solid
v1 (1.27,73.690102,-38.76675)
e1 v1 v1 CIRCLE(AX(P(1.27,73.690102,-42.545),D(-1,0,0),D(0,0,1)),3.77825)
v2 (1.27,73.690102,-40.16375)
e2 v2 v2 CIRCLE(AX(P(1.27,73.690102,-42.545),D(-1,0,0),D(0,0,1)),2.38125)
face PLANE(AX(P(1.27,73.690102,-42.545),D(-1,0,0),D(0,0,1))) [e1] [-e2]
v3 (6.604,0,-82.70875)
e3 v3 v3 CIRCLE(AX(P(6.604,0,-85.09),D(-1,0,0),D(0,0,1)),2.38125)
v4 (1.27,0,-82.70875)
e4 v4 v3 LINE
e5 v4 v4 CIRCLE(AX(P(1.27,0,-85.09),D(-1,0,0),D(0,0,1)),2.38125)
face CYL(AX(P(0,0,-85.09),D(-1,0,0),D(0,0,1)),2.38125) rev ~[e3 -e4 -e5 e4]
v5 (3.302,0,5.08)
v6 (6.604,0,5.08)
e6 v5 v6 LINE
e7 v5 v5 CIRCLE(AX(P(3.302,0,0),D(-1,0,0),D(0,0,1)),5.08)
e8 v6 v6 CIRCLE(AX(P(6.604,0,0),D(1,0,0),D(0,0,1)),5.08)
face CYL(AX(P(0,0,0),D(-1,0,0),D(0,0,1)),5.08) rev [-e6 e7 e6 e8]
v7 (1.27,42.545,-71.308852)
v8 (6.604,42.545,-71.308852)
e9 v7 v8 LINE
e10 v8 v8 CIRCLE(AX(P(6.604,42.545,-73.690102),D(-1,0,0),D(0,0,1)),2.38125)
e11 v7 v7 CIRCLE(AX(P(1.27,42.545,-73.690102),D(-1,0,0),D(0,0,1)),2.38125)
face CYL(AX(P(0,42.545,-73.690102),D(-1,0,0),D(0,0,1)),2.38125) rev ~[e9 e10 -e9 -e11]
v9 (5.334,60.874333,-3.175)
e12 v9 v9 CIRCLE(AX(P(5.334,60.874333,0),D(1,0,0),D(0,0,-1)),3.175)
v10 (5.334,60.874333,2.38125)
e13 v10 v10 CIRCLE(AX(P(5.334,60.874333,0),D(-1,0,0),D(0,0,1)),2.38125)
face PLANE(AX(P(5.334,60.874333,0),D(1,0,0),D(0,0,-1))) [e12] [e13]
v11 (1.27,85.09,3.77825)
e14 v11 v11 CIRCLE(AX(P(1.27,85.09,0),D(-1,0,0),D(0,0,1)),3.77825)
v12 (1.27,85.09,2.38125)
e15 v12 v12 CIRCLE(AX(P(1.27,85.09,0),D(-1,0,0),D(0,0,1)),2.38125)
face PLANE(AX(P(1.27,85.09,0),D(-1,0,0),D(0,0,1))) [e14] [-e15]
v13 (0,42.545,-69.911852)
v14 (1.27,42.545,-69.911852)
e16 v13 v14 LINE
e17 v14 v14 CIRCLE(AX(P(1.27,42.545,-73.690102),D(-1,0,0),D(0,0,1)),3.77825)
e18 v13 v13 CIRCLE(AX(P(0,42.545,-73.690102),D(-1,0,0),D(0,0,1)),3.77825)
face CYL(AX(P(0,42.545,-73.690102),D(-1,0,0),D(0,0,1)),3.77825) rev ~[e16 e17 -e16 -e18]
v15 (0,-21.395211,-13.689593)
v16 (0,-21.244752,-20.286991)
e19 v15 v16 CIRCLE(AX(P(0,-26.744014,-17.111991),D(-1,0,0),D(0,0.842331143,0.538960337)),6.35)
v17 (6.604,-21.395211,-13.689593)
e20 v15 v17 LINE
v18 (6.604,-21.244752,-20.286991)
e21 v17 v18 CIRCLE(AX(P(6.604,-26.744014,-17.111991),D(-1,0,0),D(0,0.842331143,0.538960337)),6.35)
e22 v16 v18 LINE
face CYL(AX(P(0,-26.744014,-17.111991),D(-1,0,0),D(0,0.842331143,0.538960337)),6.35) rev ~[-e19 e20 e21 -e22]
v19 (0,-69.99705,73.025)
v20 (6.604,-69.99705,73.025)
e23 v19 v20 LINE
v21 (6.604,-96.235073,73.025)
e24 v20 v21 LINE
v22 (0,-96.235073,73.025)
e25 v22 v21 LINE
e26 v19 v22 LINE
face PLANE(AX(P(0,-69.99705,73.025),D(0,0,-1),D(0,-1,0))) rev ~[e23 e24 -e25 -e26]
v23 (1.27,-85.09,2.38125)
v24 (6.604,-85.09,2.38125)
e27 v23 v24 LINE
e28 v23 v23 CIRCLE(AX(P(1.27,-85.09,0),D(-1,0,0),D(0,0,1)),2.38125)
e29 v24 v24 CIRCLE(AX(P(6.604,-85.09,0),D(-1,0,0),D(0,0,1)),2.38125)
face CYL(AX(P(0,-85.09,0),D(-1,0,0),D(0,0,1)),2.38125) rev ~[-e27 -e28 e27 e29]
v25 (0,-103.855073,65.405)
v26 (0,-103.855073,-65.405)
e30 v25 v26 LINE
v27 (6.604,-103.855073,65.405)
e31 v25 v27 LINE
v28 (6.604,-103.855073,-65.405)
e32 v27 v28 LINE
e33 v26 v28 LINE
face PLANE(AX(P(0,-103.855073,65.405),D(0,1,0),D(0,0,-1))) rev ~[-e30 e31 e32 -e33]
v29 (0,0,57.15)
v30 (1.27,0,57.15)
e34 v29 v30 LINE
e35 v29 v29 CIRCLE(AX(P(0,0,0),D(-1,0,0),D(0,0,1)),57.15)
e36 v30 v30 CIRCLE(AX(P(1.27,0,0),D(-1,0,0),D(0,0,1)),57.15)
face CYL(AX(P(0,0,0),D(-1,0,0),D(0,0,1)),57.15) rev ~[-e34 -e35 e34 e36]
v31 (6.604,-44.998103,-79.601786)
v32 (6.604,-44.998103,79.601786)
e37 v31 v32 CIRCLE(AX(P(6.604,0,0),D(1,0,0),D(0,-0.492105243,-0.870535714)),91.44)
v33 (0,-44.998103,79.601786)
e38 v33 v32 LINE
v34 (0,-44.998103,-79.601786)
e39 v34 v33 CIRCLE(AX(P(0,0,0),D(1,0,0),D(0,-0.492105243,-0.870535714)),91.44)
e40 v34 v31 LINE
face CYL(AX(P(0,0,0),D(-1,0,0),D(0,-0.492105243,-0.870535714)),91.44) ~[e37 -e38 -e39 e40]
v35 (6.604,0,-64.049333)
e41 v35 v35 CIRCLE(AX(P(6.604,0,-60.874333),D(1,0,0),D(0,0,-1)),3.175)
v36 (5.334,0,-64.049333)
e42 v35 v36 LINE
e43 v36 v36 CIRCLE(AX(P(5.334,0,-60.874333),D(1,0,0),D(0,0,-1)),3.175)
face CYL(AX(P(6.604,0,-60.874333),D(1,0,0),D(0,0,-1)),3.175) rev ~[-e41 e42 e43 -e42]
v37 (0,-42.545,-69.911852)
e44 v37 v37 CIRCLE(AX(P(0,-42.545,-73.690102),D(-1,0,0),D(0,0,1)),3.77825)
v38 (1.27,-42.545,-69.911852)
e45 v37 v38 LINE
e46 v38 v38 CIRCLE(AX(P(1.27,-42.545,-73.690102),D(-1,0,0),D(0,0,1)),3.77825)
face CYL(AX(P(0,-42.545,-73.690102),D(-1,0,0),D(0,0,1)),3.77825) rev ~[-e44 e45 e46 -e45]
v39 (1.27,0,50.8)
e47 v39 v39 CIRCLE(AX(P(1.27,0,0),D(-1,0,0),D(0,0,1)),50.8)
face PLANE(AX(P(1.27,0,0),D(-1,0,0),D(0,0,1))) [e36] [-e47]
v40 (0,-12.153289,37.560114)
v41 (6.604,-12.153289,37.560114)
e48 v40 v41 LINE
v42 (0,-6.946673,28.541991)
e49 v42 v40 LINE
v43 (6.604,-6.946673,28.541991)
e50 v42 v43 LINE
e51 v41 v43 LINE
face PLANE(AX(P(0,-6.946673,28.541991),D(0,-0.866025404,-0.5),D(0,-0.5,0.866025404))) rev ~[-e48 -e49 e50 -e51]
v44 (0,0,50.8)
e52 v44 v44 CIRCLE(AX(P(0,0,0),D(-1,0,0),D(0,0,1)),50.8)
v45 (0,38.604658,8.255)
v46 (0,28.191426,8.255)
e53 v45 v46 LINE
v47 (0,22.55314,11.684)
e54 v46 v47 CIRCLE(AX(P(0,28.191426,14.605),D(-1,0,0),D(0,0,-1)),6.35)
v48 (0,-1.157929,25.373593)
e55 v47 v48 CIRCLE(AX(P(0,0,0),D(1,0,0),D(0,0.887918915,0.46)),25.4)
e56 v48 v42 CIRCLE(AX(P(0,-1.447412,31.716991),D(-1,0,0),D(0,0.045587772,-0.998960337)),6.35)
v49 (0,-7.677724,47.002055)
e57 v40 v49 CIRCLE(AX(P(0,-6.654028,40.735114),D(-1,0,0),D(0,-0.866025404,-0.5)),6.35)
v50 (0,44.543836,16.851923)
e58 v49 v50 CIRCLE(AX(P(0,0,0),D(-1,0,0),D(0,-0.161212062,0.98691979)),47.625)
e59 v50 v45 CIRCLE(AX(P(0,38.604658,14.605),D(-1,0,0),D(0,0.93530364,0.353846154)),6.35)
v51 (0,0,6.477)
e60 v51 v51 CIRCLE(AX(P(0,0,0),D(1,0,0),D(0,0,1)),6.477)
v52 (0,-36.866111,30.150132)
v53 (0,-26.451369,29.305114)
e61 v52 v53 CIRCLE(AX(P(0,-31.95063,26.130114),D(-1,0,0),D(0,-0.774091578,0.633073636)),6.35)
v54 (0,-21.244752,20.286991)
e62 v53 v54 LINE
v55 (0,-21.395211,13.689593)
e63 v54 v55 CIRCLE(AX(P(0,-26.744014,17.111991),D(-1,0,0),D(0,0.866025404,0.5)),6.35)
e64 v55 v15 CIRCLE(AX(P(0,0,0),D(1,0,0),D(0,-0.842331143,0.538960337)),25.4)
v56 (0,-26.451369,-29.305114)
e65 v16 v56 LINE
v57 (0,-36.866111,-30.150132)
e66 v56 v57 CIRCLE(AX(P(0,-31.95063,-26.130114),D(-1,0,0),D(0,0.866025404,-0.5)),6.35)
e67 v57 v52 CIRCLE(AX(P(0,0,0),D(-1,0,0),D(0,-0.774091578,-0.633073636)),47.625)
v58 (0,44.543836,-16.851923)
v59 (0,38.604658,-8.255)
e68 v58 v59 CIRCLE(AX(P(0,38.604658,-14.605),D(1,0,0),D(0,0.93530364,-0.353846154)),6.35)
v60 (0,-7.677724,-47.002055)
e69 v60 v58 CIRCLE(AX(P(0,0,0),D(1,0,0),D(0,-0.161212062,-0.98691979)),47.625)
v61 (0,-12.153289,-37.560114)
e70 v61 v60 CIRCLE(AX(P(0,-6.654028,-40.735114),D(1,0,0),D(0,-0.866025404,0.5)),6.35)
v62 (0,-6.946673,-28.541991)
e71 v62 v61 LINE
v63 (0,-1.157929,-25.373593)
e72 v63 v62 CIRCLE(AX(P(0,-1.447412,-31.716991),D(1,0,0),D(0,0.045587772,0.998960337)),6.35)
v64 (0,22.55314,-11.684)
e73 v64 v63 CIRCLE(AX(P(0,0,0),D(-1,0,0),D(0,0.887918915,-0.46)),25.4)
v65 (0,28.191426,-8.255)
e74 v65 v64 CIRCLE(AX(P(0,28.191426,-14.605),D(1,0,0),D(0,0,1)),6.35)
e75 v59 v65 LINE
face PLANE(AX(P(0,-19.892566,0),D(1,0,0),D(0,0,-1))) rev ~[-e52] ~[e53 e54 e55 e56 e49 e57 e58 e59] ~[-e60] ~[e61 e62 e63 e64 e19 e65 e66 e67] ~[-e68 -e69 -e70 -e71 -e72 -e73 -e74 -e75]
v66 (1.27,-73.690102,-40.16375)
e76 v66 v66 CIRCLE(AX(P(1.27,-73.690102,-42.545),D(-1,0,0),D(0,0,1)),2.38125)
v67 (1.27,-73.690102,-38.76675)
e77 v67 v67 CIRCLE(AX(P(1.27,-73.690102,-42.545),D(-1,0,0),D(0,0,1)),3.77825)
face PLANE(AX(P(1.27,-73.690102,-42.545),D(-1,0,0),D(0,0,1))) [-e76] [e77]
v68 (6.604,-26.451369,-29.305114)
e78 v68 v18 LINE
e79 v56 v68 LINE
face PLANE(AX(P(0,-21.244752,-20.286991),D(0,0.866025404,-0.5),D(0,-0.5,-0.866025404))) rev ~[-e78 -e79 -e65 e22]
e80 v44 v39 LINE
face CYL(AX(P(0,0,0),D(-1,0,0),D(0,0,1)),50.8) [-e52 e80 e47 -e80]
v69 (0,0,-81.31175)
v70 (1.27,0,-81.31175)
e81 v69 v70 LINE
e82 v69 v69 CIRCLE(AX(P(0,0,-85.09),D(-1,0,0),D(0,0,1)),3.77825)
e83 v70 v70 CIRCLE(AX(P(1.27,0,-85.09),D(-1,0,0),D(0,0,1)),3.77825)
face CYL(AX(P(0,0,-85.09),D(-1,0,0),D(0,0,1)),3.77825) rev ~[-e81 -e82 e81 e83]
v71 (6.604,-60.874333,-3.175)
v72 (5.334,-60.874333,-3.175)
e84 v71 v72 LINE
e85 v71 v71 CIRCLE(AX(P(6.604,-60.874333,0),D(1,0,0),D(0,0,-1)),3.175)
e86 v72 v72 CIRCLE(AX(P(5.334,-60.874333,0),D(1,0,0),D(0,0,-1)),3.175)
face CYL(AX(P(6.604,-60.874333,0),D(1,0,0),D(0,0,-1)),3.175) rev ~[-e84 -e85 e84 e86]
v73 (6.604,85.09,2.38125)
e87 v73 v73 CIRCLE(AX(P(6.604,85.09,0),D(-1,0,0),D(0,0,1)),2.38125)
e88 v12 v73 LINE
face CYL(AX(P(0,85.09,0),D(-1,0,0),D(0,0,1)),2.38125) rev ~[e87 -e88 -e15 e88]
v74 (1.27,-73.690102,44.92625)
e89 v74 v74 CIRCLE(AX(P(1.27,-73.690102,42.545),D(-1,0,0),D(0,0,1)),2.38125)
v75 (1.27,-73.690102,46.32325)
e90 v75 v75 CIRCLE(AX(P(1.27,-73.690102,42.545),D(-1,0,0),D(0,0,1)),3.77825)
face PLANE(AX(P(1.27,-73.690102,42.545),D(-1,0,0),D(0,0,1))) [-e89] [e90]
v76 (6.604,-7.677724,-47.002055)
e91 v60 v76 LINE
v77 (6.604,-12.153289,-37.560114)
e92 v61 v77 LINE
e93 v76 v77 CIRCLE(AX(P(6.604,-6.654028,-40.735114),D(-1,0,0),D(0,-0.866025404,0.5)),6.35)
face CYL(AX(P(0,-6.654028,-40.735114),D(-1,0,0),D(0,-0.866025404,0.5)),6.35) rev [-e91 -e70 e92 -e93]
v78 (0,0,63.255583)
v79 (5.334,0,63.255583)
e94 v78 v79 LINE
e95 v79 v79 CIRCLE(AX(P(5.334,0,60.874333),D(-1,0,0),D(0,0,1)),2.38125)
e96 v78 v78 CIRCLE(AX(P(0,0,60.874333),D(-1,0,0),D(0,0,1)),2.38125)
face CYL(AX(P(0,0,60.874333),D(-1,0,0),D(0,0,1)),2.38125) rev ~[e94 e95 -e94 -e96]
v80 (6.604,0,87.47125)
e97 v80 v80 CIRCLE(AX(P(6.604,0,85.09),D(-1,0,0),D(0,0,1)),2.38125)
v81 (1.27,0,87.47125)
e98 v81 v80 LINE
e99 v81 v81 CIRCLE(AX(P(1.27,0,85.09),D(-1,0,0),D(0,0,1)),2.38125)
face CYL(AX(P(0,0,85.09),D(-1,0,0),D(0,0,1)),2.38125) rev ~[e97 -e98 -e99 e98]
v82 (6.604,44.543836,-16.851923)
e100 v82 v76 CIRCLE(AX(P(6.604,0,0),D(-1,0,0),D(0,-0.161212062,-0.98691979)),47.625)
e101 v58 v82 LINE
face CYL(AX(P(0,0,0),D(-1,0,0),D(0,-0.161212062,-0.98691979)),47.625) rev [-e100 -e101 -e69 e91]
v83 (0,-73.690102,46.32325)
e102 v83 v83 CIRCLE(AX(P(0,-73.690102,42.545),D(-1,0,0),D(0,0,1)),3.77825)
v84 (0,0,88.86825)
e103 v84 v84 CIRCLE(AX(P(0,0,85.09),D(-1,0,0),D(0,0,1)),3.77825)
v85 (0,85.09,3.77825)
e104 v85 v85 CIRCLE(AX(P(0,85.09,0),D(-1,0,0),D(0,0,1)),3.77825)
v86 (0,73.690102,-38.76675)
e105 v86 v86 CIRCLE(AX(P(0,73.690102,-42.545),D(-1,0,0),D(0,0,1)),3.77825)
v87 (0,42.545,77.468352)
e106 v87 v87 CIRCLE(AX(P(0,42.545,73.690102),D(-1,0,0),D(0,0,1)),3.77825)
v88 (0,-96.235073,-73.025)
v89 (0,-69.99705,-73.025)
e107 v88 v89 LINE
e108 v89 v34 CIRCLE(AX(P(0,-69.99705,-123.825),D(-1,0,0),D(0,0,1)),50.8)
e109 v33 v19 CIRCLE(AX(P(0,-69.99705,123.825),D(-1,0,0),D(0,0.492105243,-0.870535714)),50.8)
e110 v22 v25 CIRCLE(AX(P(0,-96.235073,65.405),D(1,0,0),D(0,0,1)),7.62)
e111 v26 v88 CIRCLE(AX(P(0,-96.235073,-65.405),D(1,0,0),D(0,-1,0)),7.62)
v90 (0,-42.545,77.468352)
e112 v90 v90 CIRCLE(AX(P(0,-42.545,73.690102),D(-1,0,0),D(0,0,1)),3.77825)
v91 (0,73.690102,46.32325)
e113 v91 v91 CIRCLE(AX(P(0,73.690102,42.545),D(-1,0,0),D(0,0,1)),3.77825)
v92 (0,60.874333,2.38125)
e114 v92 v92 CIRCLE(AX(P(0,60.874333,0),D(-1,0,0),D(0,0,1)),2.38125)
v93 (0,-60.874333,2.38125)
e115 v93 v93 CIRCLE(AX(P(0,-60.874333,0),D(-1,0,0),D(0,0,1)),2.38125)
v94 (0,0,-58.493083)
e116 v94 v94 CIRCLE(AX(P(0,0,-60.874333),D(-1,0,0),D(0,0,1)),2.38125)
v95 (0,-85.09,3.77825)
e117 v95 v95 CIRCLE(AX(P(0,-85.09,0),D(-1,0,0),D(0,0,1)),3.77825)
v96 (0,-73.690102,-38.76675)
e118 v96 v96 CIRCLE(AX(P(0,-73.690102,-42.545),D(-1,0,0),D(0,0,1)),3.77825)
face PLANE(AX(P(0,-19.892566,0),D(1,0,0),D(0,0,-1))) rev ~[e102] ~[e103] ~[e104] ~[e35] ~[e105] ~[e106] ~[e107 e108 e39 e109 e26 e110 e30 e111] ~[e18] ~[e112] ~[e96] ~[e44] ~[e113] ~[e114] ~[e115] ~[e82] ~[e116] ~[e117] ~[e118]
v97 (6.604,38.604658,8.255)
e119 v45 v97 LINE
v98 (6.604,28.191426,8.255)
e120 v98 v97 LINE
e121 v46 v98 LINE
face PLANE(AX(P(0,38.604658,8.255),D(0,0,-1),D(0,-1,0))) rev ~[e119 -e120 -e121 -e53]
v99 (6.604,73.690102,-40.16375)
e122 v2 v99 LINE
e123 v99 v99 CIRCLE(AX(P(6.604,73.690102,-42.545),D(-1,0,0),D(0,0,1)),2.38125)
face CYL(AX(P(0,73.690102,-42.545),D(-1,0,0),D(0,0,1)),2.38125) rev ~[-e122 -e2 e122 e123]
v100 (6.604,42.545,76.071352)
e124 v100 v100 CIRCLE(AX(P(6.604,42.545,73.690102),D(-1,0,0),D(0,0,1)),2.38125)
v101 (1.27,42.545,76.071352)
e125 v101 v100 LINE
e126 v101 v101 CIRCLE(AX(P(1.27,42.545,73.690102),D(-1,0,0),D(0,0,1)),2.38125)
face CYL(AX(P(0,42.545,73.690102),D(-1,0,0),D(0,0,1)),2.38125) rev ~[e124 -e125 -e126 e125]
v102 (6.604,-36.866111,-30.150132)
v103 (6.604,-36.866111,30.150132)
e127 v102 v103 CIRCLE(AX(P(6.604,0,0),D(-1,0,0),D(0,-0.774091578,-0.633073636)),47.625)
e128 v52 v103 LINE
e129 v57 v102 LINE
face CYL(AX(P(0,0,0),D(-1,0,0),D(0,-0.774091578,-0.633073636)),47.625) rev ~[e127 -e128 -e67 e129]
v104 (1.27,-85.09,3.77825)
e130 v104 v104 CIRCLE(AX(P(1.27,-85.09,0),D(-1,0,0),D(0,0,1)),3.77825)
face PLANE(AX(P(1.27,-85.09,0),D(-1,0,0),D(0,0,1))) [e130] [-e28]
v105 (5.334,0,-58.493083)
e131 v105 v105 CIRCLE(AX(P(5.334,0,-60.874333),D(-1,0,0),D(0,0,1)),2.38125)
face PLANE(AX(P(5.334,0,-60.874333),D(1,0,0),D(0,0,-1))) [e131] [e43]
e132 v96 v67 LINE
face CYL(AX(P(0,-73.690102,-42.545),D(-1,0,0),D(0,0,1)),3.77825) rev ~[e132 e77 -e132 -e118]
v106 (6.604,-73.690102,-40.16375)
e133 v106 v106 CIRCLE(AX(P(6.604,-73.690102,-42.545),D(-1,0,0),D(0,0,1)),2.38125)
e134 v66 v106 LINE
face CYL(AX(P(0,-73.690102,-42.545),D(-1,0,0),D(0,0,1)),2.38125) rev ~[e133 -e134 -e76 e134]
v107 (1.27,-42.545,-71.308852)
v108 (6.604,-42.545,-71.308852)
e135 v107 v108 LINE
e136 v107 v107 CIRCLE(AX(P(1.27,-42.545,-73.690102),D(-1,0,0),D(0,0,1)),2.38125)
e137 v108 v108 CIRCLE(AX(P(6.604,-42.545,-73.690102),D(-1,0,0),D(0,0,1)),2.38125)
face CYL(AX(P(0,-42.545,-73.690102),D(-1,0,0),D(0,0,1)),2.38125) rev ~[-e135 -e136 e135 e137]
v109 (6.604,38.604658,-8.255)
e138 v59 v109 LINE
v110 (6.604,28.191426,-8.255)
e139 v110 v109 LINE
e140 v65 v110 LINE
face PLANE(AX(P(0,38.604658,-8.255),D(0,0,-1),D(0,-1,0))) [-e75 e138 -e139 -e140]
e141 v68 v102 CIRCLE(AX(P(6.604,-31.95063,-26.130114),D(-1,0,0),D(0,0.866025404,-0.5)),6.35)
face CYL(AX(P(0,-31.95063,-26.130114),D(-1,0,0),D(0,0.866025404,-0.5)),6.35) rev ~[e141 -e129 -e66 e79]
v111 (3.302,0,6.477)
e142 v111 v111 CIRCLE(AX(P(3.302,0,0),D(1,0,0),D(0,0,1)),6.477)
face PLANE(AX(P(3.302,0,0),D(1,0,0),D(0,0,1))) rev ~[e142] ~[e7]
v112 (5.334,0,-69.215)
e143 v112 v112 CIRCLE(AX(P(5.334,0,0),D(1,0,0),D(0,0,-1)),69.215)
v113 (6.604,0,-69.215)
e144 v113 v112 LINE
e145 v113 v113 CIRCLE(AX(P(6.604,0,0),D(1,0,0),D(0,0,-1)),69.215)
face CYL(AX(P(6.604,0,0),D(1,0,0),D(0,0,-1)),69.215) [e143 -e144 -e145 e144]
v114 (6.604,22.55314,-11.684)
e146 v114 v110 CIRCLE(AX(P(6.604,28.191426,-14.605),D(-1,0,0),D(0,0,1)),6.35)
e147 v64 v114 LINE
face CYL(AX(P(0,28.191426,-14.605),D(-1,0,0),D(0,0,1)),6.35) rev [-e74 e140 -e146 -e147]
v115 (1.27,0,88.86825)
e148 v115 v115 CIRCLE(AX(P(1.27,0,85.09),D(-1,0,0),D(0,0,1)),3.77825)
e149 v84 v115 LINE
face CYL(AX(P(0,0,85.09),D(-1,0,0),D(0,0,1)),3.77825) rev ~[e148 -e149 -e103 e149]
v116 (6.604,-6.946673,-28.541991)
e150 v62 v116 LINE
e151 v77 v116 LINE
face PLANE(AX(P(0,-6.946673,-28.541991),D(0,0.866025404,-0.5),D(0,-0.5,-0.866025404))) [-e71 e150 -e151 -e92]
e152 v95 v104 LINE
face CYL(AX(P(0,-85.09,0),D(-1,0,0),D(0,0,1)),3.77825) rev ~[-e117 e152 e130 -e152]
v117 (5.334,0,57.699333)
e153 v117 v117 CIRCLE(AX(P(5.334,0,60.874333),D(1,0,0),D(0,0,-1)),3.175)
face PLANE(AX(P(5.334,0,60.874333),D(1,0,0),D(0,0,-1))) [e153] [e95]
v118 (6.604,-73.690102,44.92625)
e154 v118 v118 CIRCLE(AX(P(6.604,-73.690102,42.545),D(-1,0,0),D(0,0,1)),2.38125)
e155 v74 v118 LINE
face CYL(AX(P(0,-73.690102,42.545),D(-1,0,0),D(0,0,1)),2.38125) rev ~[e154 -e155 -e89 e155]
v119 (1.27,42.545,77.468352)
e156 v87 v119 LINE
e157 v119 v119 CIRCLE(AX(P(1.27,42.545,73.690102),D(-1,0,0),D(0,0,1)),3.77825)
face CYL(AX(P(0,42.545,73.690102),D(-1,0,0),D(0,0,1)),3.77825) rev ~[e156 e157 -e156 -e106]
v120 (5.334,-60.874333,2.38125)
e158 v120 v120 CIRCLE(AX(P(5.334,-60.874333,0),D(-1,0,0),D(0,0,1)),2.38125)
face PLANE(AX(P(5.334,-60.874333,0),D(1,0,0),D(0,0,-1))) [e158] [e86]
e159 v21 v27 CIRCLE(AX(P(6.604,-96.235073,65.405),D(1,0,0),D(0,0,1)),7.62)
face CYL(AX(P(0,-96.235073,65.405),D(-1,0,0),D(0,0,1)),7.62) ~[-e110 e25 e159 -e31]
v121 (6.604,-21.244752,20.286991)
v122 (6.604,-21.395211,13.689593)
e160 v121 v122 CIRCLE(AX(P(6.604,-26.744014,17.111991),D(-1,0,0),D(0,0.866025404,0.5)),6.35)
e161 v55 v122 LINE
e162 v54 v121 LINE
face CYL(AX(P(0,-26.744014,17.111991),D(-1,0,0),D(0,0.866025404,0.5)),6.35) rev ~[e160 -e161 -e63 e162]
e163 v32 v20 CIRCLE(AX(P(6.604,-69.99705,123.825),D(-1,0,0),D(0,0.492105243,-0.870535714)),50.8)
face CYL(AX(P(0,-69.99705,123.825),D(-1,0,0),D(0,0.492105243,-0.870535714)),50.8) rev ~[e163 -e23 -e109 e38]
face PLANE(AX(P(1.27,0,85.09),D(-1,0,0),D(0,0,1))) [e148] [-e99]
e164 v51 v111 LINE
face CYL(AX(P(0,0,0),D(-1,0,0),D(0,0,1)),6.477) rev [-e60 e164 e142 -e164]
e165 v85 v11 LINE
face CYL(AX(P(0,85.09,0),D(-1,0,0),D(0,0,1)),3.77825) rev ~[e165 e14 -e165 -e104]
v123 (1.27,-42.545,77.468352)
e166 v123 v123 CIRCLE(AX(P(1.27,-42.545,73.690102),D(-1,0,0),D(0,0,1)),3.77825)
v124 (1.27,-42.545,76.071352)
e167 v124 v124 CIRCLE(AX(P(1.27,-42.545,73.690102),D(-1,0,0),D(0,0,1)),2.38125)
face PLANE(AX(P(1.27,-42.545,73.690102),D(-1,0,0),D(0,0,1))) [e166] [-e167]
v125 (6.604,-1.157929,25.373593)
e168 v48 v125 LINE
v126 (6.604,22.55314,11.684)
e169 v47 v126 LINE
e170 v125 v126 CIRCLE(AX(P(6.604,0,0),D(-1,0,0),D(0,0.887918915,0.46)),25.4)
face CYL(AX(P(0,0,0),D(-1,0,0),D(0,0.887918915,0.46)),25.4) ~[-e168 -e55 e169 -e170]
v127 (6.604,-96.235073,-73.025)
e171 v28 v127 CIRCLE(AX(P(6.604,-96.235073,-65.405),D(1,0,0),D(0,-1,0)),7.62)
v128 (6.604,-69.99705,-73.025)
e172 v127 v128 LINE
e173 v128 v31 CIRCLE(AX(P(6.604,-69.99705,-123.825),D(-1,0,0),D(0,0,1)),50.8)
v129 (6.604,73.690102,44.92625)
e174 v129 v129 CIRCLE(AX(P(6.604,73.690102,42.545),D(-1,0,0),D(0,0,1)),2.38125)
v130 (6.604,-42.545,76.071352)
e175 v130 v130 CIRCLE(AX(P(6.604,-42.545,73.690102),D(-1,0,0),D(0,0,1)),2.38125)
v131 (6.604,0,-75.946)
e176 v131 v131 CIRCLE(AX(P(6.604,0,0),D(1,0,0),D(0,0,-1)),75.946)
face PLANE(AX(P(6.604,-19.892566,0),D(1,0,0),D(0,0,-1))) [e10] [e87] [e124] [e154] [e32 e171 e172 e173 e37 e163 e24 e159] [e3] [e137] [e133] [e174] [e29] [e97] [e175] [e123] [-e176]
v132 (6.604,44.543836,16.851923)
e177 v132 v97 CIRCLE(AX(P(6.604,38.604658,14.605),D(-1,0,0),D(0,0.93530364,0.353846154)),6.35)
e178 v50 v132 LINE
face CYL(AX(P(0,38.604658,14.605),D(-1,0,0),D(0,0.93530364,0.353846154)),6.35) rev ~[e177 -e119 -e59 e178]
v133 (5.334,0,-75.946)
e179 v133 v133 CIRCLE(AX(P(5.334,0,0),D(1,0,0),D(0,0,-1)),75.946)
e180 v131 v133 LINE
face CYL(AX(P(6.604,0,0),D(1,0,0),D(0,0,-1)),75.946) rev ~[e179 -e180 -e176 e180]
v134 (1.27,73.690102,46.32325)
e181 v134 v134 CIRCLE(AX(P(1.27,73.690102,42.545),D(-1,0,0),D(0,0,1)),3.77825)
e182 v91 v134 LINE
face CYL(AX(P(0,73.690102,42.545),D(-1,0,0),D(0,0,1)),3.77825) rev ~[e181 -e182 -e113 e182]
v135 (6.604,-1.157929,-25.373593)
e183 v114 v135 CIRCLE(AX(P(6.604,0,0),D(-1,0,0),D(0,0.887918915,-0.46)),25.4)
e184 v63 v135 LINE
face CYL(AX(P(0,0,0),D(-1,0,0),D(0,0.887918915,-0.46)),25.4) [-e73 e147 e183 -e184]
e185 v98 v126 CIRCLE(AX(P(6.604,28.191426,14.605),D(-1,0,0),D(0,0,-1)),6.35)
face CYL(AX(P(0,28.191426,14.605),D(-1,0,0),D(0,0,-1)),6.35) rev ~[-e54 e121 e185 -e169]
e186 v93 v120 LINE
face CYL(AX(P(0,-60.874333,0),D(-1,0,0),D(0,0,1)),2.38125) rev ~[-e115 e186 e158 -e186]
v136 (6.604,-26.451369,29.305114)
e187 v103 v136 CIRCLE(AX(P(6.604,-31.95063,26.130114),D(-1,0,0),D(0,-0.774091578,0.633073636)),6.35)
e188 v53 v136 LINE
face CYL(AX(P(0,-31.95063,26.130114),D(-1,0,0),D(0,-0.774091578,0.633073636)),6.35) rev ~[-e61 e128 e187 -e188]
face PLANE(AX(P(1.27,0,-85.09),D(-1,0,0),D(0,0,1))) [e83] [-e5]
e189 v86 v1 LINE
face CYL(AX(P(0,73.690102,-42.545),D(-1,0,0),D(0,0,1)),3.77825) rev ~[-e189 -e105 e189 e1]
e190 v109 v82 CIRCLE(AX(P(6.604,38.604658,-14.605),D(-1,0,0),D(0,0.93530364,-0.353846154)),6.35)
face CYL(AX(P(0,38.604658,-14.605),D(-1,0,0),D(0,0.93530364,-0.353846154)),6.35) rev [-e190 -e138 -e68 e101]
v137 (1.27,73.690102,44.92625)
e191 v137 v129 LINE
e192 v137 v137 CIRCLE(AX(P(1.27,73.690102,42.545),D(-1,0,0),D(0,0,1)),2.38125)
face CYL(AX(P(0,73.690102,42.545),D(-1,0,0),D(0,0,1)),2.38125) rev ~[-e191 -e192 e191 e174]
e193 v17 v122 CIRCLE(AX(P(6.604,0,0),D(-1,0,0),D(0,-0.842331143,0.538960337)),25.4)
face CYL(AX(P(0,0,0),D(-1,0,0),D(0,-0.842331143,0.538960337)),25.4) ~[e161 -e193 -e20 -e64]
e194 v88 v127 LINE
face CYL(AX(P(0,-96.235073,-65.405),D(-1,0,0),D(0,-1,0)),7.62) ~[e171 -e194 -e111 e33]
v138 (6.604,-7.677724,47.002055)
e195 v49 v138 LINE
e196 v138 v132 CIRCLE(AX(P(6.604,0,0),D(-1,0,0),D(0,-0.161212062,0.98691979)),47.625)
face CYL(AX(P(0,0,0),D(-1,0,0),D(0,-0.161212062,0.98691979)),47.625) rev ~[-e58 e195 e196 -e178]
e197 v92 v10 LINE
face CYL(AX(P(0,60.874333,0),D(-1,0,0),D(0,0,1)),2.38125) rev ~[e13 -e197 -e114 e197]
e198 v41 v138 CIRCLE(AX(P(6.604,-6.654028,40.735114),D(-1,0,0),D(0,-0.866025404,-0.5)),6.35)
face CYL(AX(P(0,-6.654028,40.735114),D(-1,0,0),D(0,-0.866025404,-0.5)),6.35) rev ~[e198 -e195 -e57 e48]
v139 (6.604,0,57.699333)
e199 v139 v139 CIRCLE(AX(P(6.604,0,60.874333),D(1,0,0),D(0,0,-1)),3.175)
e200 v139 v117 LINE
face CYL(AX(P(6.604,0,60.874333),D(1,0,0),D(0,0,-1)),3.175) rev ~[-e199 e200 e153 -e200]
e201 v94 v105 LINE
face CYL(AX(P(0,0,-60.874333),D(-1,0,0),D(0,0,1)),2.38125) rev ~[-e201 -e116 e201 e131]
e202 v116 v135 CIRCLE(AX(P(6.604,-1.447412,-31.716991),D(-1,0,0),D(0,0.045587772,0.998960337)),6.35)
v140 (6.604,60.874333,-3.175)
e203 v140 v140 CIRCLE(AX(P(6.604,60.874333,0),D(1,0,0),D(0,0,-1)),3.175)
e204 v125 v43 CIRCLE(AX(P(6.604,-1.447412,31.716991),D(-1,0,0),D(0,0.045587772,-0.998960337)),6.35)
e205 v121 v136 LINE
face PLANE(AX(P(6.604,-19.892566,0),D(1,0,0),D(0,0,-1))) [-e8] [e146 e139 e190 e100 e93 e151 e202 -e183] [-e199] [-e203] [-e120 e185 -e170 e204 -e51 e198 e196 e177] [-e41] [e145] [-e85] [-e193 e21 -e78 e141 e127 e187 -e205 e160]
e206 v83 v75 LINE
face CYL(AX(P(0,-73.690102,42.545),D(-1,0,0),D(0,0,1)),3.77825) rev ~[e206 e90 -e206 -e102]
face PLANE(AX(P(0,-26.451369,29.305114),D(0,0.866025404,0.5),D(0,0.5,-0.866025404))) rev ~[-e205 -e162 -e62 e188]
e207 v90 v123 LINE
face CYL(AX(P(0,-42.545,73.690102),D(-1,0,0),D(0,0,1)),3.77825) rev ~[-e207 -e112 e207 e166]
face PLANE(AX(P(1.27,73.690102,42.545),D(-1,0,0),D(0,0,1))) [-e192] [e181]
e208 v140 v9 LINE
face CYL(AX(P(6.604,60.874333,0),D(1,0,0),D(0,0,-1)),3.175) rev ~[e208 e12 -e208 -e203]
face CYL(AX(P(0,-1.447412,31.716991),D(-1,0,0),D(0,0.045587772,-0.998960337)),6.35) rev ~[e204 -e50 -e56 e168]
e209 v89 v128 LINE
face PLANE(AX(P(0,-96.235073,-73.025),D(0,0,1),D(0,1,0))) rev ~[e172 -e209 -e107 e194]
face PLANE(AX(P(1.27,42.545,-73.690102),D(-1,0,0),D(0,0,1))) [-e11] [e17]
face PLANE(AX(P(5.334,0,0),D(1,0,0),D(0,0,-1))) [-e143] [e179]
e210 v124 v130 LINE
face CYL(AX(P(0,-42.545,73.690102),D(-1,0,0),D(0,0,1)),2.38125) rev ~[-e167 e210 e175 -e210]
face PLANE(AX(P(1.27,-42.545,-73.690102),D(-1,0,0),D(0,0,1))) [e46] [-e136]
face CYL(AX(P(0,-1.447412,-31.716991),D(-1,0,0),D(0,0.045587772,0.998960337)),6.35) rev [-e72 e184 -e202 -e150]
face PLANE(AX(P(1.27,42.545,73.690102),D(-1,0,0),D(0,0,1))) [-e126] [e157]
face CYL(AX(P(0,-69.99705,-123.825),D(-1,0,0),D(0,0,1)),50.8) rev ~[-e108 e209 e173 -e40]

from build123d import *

# Parameters (mm, degrees)
SKETCH1_R           = 5.08
BOSS_EXTRUDE1_DEPTH = 6.604
SKETCH2_R           = 6.477
CUT_EXTRUDE1_DEPTH  = 3.302
SKETCH3_R           = 75.946
SKETCH3_R_2         = 69.215
CUT_EXTRUDE2_DEPTH  = 1.27
SKETCH4_R           = 2.38125
CUT_EXTRUDE3_DEPTH  = 139.530727768
SKETCH5_R           = 3.77825
CUT_EXTRUDE4_DEPTH  = 1.27
CUT_EXTRUDE5_DEPTH  = 139.530727768
SKETCH10_R          = 57.15
SKETCH10_R_2        = 50.8
CUT_EXTRUDE6_DEPTH  = 1.27
SKETCH12_R          = 2.38125
CUT_EXTRUDE7_DEPTH  = 139.530727768
SKETCH15_R          = 3.175
CUT_EXTRUDE11_DEPTH = 1.27


with BuildPart() as part:
    # Sketch1 → Boss-Extrude1 (new body)
    with BuildSketch(Plane(origin=(0, 0, 0), x_dir=(0, 0, -1), z_dir=(1, 0, 0))):
        with BuildLine():
            Line((-65.405, -103.855072673), (65.405, -103.855072673))
            ThreePointArc((65.405, -103.855072673), (70.793153673, -101.623226346), (73.025, -96.235072673))
            Line((73.025, -96.235072673), (73.025, -69.997049759))
            ThreePointArc((73.025, -69.997049759), (74.696702219, -57.072253546), (79.601785714, -44.998103417))
            ThreePointArc((79.601785714, -44.998103417), (0, 91.44), (-79.601785714, -44.998103417))
            ThreePointArc((-79.601785714, -44.998103417), (-74.696702219, -57.072253546), (-73.025, -69.997049759))
            Line((-73.025, -69.997049759), (-73.025, -96.235072673))
            ThreePointArc((-73.025, -96.235072673), (-70.793153673, -101.623226346), (-65.405, -103.855072673))
        make_face()
        with Locations(Location((0, 0, 0), (0, 0, 180))):
            Circle(SKETCH1_R, mode=Mode.SUBTRACT)
    extrude(amount=BOSS_EXTRUDE1_DEPTH)

    # Sketch2 → Cut-Extrude1 (cut)
    with BuildSketch(Plane(origin=(0, 0, 0), x_dir=(0, 0, -1), z_dir=(1, 0, 0))):
        with Locations(Location((0, 0, 0), (0, 0, 180))):
            Circle(SKETCH2_R)
    extrude(amount=CUT_EXTRUDE1_DEPTH, mode=Mode.SUBTRACT)

    # Sketch3 → Cut-Extrude2 (cut)
    with BuildSketch(Plane(origin=(6.604, 0, 0), x_dir=(0, 0, -1), z_dir=(1, 0, 0))):
        Circle(SKETCH3_R)
        Circle(SKETCH3_R_2, mode=Mode.SUBTRACT)
    extrude(amount=-CUT_EXTRUDE2_DEPTH, mode=Mode.SUBTRACT)

    # Sketch4 → Cut-Extrude3 (cut, through all)
    with BuildSketch(Plane.ZY):
        with Locations((0, 85.09)):
            Circle(SKETCH4_R)
        with Locations((42.545, 73.690101608)):
            Circle(SKETCH4_R)
        with Locations((73.690101608, 42.545)):
            Circle(SKETCH4_R)
        with Locations((85.09, 0)):
            Circle(SKETCH4_R)
        with Locations((73.690101608, -42.545)):
            Circle(SKETCH4_R)
        with Locations((42.545, -73.690101608)):
            Circle(SKETCH4_R)
        with Locations((0, -85.09)):
            Circle(SKETCH4_R)
        with Locations((-42.545, -73.690101608)):
            Circle(SKETCH4_R)
        with Locations((-73.690101608, -42.545)):
            Circle(SKETCH4_R)
        with Locations((-85.09, 0)):
            Circle(SKETCH4_R)
        with Locations((-73.690101608, 42.545)):
            Circle(SKETCH4_R)
        with Locations((-42.545, 73.690101608)):
            Circle(SKETCH4_R)
    extrude(amount=-CUT_EXTRUDE3_DEPTH, mode=Mode.SUBTRACT)

    # Sketch5 → Cut-Extrude4 (cut)
    with BuildSketch(Plane.ZY):
        with Locations((0, 85.09)):
            Circle(SKETCH5_R)
        with Locations((42.545, 73.690101608)):
            Circle(SKETCH5_R)
        with Locations((-42.545, 73.690101608)):
            Circle(SKETCH5_R)
        with Locations((73.690101608, 42.545)):
            Circle(SKETCH5_R)
        with Locations((85.09, 0)):
            Circle(SKETCH5_R)
        with Locations((73.690101608, -42.545)):
            Circle(SKETCH5_R)
        with Locations((42.545, -73.690101608)):
            Circle(SKETCH5_R)
        with Locations((0, -85.09)):
            Circle(SKETCH5_R)
        with Locations((-42.545, -73.690101608)):
            Circle(SKETCH5_R)
        with Locations((-73.690101608, -42.545)):
            Circle(SKETCH5_R)
        with Locations((-85.09, 0)):
            Circle(SKETCH5_R)
        with Locations((-73.690101608, 42.545)):
            Circle(SKETCH5_R)
    extrude(amount=-CUT_EXTRUDE4_DEPTH, mode=Mode.SUBTRACT)

    # Sketch9 → Cut-Extrude5 (cut, through all)
    with BuildSketch(Plane.ZY):
        with BuildLine():
            Line((-8.255, 38.60465775), (-8.255, 28.191425558))
            ThreePointArc((-8.255, 28.191425558), (-9.179557622, 24.89186877), (-11.684, 22.553140447))
            ThreePointArc((-11.684, 22.553140447), (-21.997045256, 12.7), (-25.373592562, -1.157929405))
            ThreePointArc((-25.373592562, -1.157929405), (-26.146769513, -4.496204289), (-28.541990702, -6.946673071))
            Line((-28.541990702, -6.946673071), (-37.560114316, -12.153289167))
            ThreePointArc((-37.560114316, -12.153289167), (-43.454984563, -12.392041955), (-47.00205498, -7.677724445))
            ThreePointArc((-47.00205498, -7.677724445), (-41.244459855, 23.8125), (-16.851923077, 44.543835865))
            ThreePointArc((-16.851923077, 44.543835865), (-10.995669144, 43.82914153), (-8.255, 38.60465775))
        make_face()
        with BuildLine():
            Line((8.255, 38.60465775), (8.255, 28.191425558))
            ThreePointArc((8.255, 28.191425558), (9.179557622, 24.89186877), (11.684, 22.553140447))
            ThreePointArc((11.684, 22.553140447), (21.997045256, 12.7), (25.373592562, -1.157929405))
            ThreePointArc((25.373592562, -1.157929405), (26.146769513, -4.496204289), (28.541990702, -6.946673071))
            Line((28.541990702, -6.946673071), (37.560114316, -12.153289167))
            ThreePointArc((37.560114316, -12.153289167), (43.454984563, -12.392041955), (47.00205498, -7.677724445))
            ThreePointArc((47.00205498, -7.677724445), (41.244459855, 23.8125), (16.851923077, 44.543835865))
            ThreePointArc((16.851923077, 44.543835865), (10.995669144, 43.82914153), (8.255, 38.60465775))
        make_face()
        with BuildLine():
            Line((29.305114316, -26.451368583), (20.286990702, -21.244752487))
            ThreePointArc((20.286990702, -21.244752487), (16.967211891, -20.395664481), (13.689592562, -21.395211041))
            ThreePointArc((13.689592562, -21.395211041), (0, -25.4), (-13.689592562, -21.395211041))
            ThreePointArc((-13.689592562, -21.395211041), (-16.967211891, -20.395664481), (-20.286990702, -21.244752487))
            Line((-20.286990702, -21.244752487), (-29.305114316, -26.451368583))
            ThreePointArc((-29.305114316, -26.451368583), (-32.459315419, -31.437099575), (-30.150131903, -36.86611142))
            ThreePointArc((-30.150131903, -36.86611142), (0, -47.625), (30.150131903, -36.86611142))
            ThreePointArc((30.150131903, -36.86611142), (32.459315419, -31.437099575), (29.305114316, -26.451368583))
        make_face()
    extrude(amount=-CUT_EXTRUDE5_DEPTH, mode=Mode.SUBTRACT)

    # Sketch10 → Cut-Extrude6 (cut)
    with BuildSketch(Plane.ZY):
        Circle(SKETCH10_R)
        Circle(SKETCH10_R_2, mode=Mode.SUBTRACT)
    extrude(amount=-CUT_EXTRUDE6_DEPTH, mode=Mode.SUBTRACT)

    # Sketch12 → Cut-Extrude7 (cut, through all)
    with BuildSketch(Plane.ZY):
        with Locations((0, 60.874333344)):
            Circle(SKETCH12_R)
        with Locations((60.874333344, 0)):
            Circle(SKETCH12_R)
        with Locations((0, -60.874333344)):
            Circle(SKETCH12_R)
        with Locations((-60.874333344, 0)):
            Circle(SKETCH12_R)
    extrude(amount=-CUT_EXTRUDE7_DEPTH, mode=Mode.SUBTRACT)

    # Sketch15 → Cut-Extrude11 (cut)
    with BuildSketch(Plane(origin=(6.604, 0, 0), x_dir=(0, 0, -1), z_dir=(1, 0, 0))):
        with Locations((0, 60.874333344)):
            Circle(SKETCH15_R)
        with Locations((60.874333344, 0)):
            Circle(SKETCH15_R)
        with Locations((0, -60.874333344)):
            Circle(SKETCH15_R)
        with Locations((-60.874333344, 0)):
            Circle(SKETCH15_R)
    extrude(amount=-CUT_EXTRUDE11_DEPTH, mode=Mode.SUBTRACT)


solid = part.part
